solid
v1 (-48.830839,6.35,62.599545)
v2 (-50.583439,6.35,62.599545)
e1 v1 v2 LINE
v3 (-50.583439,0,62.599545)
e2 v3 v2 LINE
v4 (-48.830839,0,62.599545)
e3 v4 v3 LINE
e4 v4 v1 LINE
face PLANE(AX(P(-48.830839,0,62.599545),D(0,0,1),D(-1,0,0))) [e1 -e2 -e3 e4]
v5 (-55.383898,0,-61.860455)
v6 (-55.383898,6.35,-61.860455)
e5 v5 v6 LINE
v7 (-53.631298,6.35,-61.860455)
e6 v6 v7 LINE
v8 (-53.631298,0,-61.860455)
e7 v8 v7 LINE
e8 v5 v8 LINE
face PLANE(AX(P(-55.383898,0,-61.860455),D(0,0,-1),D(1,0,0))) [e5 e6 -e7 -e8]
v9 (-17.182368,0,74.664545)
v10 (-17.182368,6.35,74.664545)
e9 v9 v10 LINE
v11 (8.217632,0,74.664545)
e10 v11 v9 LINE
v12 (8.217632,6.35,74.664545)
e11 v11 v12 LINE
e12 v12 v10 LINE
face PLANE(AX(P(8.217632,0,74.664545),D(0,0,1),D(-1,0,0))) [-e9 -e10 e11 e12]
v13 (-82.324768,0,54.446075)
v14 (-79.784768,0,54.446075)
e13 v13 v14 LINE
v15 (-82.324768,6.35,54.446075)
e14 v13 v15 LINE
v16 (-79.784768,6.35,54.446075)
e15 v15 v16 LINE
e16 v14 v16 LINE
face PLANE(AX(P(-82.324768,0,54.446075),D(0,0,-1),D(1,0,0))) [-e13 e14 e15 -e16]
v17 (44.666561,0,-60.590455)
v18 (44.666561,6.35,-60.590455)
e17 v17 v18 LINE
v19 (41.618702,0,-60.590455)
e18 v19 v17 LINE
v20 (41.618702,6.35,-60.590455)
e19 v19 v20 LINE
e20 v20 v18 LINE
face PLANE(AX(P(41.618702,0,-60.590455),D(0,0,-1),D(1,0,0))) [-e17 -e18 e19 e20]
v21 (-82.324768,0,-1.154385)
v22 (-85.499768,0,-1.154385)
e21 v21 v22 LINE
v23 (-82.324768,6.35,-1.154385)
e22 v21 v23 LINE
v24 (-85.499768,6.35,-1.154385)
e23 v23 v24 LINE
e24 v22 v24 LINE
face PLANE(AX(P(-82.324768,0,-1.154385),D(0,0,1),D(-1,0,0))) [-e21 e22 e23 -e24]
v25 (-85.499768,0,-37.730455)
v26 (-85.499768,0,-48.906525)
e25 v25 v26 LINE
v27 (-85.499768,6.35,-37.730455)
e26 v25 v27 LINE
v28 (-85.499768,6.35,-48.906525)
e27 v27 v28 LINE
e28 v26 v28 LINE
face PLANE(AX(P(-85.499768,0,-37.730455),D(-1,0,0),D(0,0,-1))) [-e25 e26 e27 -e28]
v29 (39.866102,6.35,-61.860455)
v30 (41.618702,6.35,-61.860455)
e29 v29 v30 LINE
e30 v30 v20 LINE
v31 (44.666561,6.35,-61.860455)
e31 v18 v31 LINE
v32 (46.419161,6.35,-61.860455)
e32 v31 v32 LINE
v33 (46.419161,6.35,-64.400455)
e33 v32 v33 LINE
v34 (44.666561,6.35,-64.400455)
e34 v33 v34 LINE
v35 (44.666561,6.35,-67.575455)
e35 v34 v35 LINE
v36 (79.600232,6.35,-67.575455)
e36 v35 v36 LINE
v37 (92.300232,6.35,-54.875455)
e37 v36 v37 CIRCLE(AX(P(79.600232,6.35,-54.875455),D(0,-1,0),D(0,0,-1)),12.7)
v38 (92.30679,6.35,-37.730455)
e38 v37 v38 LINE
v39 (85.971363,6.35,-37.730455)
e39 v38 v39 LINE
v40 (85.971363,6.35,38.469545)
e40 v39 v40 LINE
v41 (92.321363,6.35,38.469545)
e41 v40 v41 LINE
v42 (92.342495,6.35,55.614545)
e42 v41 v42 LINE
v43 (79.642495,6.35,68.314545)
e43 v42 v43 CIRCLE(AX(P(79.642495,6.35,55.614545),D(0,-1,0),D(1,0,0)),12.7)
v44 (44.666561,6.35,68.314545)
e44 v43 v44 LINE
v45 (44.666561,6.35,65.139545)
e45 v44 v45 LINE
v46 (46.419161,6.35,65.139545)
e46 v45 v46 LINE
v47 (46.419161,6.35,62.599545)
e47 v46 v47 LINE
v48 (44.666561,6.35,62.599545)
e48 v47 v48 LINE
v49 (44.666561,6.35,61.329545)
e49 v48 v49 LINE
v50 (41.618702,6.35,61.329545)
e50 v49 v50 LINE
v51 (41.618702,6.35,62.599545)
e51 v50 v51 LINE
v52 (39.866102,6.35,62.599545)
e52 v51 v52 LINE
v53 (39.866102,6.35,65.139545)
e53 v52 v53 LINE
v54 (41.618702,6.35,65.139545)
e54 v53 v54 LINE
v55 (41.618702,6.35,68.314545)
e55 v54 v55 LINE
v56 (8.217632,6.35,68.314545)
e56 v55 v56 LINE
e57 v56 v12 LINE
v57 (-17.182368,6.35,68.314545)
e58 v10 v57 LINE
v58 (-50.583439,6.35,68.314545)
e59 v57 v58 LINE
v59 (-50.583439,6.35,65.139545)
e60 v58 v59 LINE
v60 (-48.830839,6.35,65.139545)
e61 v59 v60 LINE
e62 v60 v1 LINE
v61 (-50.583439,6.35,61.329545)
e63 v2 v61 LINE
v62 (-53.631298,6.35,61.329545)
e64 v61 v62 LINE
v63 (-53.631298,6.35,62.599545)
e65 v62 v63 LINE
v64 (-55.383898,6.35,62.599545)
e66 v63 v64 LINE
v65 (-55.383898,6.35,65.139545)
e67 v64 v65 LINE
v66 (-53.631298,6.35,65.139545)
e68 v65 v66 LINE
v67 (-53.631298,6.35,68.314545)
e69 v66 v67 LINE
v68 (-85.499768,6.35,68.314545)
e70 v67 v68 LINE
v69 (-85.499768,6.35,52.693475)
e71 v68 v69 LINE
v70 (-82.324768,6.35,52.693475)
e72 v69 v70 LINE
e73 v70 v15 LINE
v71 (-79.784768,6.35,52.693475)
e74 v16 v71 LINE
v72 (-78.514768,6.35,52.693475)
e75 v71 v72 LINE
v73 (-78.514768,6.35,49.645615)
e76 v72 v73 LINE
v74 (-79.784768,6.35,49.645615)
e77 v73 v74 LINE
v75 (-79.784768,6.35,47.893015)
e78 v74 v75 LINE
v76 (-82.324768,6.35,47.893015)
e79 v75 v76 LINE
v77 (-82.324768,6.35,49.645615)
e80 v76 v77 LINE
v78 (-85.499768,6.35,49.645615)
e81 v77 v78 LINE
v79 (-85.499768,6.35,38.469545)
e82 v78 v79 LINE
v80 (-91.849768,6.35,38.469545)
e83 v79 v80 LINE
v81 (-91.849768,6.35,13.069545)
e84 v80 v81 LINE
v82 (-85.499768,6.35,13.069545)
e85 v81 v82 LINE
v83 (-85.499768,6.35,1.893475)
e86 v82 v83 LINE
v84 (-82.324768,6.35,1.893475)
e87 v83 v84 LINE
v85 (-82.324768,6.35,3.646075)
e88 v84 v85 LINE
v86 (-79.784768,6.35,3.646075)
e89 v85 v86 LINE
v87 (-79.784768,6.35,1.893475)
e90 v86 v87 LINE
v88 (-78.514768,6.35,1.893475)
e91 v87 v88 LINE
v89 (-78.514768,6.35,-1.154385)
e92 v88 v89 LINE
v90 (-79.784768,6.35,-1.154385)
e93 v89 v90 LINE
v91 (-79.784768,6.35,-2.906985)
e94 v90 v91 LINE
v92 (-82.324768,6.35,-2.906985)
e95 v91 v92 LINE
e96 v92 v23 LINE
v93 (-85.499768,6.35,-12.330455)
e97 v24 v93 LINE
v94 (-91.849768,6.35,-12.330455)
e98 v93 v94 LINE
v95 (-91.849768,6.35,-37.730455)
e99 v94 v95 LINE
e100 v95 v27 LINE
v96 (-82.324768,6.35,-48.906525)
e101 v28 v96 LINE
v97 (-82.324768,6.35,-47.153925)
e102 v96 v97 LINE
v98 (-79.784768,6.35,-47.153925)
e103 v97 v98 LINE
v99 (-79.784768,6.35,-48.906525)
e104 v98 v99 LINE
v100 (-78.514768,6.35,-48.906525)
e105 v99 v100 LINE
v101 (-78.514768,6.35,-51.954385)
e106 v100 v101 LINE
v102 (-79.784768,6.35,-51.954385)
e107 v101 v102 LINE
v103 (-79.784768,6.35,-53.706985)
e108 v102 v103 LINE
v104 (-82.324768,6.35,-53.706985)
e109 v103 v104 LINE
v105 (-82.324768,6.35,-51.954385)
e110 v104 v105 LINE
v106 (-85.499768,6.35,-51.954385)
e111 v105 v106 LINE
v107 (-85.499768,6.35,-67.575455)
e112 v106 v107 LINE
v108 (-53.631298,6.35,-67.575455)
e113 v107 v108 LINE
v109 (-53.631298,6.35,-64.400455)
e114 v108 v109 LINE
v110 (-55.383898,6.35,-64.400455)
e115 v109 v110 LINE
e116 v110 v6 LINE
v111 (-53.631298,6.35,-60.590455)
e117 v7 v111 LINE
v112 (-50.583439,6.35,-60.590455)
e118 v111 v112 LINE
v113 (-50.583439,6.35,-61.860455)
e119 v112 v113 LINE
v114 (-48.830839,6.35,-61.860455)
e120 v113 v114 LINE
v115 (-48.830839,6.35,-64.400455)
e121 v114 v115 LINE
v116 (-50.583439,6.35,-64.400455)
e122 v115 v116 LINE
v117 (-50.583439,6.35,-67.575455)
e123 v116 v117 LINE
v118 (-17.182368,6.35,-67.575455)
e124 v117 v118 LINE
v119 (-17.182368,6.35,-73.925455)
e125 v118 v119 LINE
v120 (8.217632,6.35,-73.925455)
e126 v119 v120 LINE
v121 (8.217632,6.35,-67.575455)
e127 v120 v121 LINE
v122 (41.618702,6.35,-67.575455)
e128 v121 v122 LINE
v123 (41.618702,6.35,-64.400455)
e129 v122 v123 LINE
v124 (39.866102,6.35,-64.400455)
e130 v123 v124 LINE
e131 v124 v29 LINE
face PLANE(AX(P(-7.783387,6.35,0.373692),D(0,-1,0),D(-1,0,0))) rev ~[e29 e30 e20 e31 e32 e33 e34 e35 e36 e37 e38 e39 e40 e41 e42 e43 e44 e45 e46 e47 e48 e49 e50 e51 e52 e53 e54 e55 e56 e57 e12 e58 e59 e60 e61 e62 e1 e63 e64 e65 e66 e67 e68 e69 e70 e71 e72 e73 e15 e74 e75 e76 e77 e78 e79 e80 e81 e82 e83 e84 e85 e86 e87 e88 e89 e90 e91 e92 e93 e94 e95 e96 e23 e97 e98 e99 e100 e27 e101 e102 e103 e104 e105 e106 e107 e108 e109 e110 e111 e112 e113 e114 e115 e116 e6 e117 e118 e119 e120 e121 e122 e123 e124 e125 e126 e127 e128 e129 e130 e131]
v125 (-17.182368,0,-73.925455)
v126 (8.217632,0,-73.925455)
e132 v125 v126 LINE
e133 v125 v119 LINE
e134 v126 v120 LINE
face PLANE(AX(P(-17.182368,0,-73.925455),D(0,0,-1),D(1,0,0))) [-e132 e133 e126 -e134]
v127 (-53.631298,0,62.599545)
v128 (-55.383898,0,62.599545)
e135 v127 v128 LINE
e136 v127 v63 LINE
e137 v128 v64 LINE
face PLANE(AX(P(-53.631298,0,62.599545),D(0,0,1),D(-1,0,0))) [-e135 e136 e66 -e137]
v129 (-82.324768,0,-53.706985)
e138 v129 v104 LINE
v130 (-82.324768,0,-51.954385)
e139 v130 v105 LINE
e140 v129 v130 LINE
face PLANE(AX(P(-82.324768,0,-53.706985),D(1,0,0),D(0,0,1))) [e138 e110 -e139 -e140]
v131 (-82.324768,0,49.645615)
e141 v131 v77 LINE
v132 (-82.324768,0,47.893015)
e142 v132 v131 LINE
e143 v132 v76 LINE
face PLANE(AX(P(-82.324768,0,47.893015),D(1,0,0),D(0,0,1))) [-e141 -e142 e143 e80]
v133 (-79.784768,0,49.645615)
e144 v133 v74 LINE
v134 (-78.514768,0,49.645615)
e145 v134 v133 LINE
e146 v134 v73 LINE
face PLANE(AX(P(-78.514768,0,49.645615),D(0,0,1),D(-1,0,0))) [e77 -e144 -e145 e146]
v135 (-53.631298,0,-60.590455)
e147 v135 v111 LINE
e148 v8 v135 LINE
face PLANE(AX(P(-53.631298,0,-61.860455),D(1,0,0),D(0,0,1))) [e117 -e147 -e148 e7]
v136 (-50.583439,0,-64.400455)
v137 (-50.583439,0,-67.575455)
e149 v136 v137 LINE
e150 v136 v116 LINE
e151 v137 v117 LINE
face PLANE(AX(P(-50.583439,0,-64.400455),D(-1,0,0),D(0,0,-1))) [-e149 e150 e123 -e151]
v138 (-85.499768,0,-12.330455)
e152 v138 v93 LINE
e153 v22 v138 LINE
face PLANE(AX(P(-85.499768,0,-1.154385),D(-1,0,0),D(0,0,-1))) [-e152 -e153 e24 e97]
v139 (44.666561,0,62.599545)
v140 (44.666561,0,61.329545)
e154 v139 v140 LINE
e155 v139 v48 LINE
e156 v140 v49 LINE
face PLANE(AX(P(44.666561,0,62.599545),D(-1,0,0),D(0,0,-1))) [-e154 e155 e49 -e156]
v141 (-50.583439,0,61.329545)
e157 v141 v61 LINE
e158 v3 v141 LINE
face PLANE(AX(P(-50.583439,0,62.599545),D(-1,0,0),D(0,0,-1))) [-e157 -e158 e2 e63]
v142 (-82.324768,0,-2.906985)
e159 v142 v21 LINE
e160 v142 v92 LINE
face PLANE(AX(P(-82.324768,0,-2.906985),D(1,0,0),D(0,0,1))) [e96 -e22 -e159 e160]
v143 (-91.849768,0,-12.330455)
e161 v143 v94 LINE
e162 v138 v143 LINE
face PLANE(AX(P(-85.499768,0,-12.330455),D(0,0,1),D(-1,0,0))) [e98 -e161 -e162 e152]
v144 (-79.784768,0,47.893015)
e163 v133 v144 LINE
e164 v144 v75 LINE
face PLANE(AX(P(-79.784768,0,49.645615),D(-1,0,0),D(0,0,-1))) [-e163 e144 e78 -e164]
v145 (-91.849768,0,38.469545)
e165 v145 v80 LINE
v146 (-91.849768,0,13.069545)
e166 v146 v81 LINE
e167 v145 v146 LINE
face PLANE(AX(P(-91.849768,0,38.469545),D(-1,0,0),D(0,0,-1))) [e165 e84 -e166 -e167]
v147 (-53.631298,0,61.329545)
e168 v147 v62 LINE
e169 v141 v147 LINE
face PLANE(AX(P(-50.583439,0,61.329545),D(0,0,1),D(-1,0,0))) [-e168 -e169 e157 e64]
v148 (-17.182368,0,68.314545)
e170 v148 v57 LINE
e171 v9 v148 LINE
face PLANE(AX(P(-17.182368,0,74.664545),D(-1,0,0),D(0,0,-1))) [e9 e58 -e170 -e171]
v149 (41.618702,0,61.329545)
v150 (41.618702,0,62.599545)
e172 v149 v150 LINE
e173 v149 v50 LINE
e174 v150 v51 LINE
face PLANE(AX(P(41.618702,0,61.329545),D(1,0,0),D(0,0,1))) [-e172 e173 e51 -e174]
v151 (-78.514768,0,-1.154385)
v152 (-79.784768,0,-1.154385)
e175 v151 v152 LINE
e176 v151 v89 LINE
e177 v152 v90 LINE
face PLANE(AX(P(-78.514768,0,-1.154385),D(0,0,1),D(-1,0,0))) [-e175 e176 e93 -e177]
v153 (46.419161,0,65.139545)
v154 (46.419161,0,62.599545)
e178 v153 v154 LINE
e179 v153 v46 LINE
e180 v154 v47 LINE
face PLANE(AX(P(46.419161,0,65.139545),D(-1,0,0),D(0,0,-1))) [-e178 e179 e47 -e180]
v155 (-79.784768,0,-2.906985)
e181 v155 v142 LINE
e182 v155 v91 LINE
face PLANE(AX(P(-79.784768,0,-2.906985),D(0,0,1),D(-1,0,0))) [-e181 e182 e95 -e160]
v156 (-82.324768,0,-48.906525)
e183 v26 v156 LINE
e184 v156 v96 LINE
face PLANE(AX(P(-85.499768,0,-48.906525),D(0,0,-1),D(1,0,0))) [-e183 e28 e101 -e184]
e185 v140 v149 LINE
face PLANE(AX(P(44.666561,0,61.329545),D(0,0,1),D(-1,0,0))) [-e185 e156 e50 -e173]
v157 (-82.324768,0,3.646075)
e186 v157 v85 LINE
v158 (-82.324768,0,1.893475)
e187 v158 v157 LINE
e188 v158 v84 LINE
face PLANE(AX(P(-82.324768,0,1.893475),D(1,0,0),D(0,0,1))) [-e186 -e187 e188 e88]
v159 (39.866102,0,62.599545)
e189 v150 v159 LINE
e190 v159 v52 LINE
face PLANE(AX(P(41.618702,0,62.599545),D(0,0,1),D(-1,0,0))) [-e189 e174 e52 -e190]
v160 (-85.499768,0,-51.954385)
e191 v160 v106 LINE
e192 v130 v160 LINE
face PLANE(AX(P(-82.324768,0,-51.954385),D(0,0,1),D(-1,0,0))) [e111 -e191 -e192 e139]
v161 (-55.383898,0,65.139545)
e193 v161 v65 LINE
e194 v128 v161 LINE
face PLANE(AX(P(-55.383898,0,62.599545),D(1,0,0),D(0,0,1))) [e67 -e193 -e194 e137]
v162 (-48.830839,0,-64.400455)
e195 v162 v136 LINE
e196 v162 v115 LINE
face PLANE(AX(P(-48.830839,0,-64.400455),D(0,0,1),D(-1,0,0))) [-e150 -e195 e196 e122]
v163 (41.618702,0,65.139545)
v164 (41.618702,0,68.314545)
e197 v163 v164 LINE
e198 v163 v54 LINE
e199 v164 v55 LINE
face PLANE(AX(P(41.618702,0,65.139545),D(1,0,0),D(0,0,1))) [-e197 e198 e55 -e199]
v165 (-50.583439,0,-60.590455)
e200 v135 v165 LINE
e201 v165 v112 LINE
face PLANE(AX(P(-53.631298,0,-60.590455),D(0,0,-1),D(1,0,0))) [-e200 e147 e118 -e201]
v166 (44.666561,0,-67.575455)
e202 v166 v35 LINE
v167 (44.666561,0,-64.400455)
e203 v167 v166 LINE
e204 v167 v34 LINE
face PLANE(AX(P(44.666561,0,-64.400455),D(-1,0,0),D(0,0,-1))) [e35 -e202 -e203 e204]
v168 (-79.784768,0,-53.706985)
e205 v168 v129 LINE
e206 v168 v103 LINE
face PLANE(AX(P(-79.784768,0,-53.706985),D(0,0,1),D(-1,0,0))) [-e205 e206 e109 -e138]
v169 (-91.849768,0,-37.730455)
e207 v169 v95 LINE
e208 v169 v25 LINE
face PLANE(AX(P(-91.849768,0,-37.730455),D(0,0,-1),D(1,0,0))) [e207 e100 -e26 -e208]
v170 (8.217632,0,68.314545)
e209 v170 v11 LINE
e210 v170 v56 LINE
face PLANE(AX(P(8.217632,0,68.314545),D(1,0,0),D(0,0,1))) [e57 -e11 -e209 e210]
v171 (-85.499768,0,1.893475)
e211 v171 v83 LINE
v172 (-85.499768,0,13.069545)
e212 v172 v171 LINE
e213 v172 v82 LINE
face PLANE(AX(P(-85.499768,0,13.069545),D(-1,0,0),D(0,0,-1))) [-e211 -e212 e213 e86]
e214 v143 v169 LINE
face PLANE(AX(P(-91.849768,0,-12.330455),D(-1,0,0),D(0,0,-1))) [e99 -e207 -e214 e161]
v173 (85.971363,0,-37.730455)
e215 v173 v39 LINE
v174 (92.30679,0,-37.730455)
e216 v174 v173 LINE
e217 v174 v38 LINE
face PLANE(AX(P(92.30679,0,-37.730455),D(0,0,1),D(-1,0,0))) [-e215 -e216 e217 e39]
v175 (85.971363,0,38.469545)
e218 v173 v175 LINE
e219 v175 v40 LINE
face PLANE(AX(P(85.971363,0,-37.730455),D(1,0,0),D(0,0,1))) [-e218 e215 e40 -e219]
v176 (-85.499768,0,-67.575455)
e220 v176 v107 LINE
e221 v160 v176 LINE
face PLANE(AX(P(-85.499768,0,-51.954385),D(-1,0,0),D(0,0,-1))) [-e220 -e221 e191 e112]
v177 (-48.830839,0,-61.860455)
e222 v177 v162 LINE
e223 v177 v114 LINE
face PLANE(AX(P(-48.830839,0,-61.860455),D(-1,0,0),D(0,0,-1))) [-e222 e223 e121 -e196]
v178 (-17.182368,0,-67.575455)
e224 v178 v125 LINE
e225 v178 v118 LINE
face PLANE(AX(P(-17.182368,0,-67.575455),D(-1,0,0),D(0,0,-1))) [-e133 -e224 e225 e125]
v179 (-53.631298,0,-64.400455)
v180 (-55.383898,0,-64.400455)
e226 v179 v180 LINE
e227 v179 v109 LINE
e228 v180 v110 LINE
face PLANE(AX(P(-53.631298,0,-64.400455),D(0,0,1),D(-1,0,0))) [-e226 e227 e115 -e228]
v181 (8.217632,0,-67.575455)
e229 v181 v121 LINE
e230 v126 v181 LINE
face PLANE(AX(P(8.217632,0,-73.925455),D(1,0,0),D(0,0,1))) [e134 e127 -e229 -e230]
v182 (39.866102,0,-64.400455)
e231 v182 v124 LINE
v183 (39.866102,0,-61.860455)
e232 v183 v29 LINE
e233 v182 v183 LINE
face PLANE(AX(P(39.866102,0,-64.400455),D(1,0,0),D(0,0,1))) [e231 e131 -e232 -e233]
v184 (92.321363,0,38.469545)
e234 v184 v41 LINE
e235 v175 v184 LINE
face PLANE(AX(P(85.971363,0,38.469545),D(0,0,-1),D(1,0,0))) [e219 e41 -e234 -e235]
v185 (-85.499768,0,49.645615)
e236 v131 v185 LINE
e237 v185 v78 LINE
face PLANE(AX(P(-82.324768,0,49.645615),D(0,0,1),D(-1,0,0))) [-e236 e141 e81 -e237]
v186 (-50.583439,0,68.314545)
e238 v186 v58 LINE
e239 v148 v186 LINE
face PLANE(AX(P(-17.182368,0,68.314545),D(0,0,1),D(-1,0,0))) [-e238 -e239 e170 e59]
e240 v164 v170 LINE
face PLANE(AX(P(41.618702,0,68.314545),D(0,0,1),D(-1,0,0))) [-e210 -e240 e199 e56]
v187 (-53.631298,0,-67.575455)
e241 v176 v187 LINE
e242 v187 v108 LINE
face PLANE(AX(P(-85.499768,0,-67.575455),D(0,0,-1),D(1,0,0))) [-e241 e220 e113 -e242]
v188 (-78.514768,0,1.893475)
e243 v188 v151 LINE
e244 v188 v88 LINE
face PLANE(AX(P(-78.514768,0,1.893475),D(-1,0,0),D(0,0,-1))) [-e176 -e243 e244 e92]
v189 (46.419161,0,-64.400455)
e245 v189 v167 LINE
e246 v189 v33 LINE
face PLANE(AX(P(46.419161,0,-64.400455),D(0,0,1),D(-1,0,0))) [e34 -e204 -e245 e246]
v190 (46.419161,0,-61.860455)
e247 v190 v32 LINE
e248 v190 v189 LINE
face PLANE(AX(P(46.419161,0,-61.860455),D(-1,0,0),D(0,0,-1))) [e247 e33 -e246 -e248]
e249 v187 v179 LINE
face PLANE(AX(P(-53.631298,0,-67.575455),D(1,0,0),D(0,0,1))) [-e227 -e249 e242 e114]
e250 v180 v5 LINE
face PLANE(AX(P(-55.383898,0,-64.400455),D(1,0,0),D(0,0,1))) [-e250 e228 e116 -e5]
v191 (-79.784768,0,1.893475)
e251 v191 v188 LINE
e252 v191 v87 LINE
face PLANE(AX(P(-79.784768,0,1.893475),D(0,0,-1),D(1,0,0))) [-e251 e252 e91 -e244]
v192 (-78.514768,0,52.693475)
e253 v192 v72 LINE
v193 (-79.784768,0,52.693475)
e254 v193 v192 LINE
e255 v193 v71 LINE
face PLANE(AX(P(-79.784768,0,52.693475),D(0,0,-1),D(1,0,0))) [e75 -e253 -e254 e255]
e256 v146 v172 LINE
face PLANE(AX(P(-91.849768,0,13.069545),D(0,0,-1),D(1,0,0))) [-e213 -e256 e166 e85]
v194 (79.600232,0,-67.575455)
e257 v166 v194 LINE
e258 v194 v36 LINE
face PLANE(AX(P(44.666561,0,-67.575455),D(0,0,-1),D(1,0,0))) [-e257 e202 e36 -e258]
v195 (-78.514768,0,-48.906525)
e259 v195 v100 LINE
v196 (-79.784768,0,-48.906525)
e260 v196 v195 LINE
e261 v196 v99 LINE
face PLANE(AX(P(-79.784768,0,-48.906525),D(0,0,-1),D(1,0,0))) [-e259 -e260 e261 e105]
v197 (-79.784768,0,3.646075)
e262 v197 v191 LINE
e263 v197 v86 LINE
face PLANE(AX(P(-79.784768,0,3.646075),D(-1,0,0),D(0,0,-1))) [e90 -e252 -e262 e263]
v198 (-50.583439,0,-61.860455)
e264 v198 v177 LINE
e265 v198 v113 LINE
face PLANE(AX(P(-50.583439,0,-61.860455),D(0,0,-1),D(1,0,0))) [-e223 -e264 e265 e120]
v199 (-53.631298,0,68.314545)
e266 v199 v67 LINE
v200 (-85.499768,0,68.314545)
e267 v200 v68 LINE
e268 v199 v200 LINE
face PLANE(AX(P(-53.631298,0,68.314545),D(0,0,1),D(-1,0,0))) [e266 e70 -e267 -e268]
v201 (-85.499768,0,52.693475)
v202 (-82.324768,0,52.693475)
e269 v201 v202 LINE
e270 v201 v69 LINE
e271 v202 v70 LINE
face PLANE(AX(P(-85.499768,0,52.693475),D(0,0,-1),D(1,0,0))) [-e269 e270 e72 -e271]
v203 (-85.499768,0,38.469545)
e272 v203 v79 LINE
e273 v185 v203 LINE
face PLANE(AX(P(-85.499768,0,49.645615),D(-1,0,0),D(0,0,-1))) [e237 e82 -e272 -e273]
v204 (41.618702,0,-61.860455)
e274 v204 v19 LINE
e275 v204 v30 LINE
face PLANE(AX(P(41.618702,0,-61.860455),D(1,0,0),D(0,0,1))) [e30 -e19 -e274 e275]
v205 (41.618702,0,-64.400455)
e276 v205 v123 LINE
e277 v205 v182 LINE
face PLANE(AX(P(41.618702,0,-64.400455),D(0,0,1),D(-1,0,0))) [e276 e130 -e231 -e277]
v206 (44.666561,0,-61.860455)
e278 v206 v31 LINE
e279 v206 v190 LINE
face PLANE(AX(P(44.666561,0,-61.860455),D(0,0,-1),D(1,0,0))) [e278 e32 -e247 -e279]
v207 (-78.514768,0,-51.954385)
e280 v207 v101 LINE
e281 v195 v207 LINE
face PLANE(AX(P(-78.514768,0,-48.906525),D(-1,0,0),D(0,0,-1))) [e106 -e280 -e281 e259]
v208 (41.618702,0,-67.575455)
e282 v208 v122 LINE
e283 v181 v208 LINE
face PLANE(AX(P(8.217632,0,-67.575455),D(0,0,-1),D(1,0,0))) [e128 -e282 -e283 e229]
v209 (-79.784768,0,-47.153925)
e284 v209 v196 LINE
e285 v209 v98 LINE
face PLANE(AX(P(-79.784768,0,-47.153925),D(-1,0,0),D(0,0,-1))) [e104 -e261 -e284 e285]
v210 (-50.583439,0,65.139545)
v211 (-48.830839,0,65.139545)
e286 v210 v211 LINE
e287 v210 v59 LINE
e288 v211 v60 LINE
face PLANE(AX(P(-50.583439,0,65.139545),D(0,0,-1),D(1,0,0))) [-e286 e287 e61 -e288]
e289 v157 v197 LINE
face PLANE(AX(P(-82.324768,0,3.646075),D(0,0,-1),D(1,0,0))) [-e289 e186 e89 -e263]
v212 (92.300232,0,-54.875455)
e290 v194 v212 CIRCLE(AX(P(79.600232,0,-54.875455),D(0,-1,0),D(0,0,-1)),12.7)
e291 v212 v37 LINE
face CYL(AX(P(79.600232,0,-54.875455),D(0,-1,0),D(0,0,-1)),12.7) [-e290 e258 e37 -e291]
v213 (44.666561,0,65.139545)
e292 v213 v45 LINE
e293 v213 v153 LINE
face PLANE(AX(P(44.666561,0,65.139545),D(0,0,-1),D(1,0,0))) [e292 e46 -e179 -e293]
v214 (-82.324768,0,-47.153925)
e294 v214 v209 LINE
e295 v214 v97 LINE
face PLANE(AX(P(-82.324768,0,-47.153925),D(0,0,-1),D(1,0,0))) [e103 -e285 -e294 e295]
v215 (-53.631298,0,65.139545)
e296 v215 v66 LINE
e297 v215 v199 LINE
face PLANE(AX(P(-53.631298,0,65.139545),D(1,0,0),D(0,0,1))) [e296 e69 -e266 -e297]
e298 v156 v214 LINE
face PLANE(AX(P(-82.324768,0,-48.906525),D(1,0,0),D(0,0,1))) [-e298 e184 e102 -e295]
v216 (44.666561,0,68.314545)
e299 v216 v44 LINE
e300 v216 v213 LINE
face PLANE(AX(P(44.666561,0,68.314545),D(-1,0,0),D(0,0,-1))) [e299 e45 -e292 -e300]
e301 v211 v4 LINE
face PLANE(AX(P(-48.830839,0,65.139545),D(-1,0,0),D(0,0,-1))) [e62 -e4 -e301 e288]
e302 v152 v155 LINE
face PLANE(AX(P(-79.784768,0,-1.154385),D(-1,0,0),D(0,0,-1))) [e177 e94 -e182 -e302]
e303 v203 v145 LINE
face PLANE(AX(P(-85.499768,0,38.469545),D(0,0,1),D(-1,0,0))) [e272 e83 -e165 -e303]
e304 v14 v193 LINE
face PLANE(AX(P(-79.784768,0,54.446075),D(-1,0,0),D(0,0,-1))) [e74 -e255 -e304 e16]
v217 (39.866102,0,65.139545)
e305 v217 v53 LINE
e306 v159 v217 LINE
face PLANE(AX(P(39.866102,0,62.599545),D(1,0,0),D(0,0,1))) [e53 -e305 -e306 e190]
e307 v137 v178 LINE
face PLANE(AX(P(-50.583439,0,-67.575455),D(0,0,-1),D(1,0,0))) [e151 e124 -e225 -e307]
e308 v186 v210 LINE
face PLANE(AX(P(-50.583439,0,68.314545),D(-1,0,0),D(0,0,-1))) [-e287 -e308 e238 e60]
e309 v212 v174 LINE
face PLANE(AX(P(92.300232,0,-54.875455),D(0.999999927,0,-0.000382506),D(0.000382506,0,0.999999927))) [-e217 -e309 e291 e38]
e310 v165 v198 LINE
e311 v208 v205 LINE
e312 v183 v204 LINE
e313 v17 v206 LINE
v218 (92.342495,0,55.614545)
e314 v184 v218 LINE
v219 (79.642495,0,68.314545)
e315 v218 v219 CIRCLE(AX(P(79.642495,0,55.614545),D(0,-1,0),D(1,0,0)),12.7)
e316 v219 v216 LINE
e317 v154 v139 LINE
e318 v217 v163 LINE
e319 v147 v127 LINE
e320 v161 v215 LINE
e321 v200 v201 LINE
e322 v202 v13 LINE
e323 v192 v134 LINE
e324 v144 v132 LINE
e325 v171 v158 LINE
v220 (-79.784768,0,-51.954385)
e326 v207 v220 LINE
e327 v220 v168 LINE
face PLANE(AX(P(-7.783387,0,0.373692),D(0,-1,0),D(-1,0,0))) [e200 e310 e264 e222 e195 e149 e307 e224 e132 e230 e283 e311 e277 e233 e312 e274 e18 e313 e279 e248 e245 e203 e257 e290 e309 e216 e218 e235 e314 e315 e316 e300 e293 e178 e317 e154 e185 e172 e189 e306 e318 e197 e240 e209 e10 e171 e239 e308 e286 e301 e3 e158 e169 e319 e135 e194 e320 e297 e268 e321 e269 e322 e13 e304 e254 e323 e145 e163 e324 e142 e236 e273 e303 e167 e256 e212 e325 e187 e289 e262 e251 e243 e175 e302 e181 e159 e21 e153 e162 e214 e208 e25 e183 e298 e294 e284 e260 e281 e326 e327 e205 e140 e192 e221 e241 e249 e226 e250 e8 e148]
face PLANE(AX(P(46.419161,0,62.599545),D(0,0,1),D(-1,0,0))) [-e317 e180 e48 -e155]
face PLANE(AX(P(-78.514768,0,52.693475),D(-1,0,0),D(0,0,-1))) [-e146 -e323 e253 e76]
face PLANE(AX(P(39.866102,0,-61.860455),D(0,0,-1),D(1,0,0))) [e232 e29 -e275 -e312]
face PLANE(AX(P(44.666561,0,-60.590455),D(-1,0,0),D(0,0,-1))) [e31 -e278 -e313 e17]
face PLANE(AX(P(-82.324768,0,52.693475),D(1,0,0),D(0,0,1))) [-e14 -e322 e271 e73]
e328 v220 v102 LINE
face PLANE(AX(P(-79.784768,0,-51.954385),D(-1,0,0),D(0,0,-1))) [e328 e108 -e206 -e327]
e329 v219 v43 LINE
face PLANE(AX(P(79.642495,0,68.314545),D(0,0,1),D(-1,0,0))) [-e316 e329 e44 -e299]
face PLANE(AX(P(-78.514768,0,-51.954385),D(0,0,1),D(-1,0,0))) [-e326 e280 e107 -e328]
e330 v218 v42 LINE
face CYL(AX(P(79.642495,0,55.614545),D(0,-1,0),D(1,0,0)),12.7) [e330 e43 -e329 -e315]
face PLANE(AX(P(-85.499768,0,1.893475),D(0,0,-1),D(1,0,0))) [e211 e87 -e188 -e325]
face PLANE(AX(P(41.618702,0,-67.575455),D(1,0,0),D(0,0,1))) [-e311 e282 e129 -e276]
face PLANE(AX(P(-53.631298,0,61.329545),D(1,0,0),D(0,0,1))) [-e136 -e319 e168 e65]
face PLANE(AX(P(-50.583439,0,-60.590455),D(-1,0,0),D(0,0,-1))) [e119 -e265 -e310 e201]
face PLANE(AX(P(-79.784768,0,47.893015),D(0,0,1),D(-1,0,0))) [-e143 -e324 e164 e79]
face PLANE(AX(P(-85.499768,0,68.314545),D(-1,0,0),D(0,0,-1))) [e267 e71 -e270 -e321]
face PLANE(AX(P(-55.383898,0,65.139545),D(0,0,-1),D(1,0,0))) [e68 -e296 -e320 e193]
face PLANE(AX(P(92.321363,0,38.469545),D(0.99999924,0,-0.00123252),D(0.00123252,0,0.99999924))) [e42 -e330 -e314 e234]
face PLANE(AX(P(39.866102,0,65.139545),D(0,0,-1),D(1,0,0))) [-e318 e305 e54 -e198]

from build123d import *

# Parameters (mm, degrees)
BOSS_EXTRUDE1_DEPTH = 6.35


with BuildPart() as part:
    # Sketch1 → Boss-Extrude1 (new body)
    with BuildSketch(Plane(origin=(0, 0, 0), x_dir=(1, 0, 0), z_dir=(0, 1, 0))):
        with BuildLine():
            Line((-85.499768134, 67.575454856), (-53.631298012, 67.575454856))
            Line((-53.631298012, 67.575454856), (-53.631298012, 64.400454856))
            Line((-53.631298012, 64.400454856), (-55.383898012, 64.400454856))
            Line((-55.383898012, 64.400454856), (-55.383898012, 61.860454856))
            Line((-55.383898012, 61.860454856), (-53.631298012, 61.860454856))
            Line((-53.631298012, 61.860454856), (-53.631298012, 60.590454856))
            Line((-53.631298012, 60.590454856), (-50.583438656, 60.590454856))
            Line((-50.583438656, 60.590454856), (-50.583438656, 61.860454856))
            Line((-50.583438656, 61.860454856), (-48.830838656, 61.860454856))
            Line((-48.830838656, 61.860454856), (-48.830838656, 64.400454856))
            Line((-48.830838656, 64.400454856), (-50.583438656, 64.400454856))
            Line((-50.583438656, 64.400454856), (-50.583438656, 67.575454856))
            Line((-50.583438656, 67.575454856), (-17.182368334, 67.575454856))
            Line((-17.182368334, 67.575454856), (-17.182368334, 73.925454856))
            Line((-17.182368334, 73.925454856), (8.217631666, 73.925454856))
            Line((8.217631666, 73.925454856), (8.217631666, 67.575454856))
            Line((8.217631666, 67.575454856), (41.618701988, 67.575454856))
            Line((41.618701988, 67.575454856), (41.618701988, 64.400454856))
            Line((41.618701988, 64.400454856), (39.866101988, 64.400454856))
            Line((39.866101988, 64.400454856), (39.866101988, 61.860454856))
            Line((39.866101988, 61.860454856), (41.618701988, 61.860454856))
            Line((41.618701988, 61.860454856), (41.618701988, 60.590454856))
            Line((41.618701988, 60.590454856), (44.666561344, 60.590454856))
            Line((44.666561344, 60.590454856), (44.666561344, 61.860454856))
            Line((44.666561344, 61.860454856), (46.419161344, 61.860454856))
            Line((46.419161344, 61.860454856), (46.419161344, 64.400454856))
            Line((46.419161344, 64.400454856), (44.666561344, 64.400454856))
            Line((44.666561344, 64.400454856), (44.666561344, 67.575454856))
            Line((44.666561344, 67.575454856), (79.600231866, 67.575454856))
            ThreePointArc((79.600231866, 67.575454856), (88.580487987, 63.855710977), (92.300231866, 54.875454856))
            Line((92.300231866, 54.875454856), (92.306789937, 37.730454856))
            Line((92.306789937, 37.730454856), (85.971363429, 37.730454856))
            Line((85.971363429, 37.730454856), (85.971363429, -38.469545144))
            Line((85.971363429, -38.469545144), (92.321363429, -38.469545144))
            Line((92.321363429, -38.469545144), (92.342494993, -55.614545144))
            ThreePointArc((92.342494993, -55.614545144), (88.622751114, -64.594801265), (79.642494993, -68.314545144))
            Line((79.642494993, -68.314545144), (44.666561344, -68.314545144))
            Line((44.666561344, -68.314545144), (44.666561344, -65.139545144))
            Line((44.666561344, -65.139545144), (46.419161344, -65.139545144))
            Line((46.419161344, -65.139545144), (46.419161344, -62.599545144))
            Line((46.419161344, -62.599545144), (44.666561344, -62.599545144))
            Line((44.666561344, -62.599545144), (44.666561344, -61.329545144))
            Line((44.666561344, -61.329545144), (41.618701988, -61.329545144))
            Line((41.618701988, -61.329545144), (41.618701988, -62.599545144))
            Line((41.618701988, -62.599545144), (39.866101988, -62.599545144))
            Line((39.866101988, -62.599545144), (39.866101988, -65.139545144))
            Line((39.866101988, -65.139545144), (41.618701988, -65.139545144))
            Line((41.618701988, -65.139545144), (41.618701988, -68.314545144))
            Line((41.618701988, -68.314545144), (8.217631666, -68.314545144))
            Line((8.217631666, -68.314545144), (8.217631666, -74.664545144))
            Line((8.217631666, -74.664545144), (-17.182368334, -74.664545144))
            Line((-17.182368334, -74.664545144), (-17.182368334, -68.314545144))
            Line((-17.182368334, -68.314545144), (-50.583438656, -68.314545144))
            Line((-50.583438656, -68.314545144), (-50.583438656, -65.139545144))
            Line((-50.583438656, -65.139545144), (-48.830838656, -65.139545144))
            Line((-48.830838656, -65.139545144), (-48.830838656, -62.599545144))
            Line((-48.830838656, -62.599545144), (-50.583438656, -62.599545144))
            Line((-50.583438656, -62.599545144), (-50.583438656, -61.329545144))
            Line((-50.583438656, -61.329545144), (-53.631298012, -61.329545144))
            Line((-53.631298012, -61.329545144), (-53.631298012, -62.599545144))
            Line((-53.631298012, -62.599545144), (-55.383898012, -62.599545144))
            Line((-55.383898012, -62.599545144), (-55.383898012, -65.139545144))
            Line((-55.383898012, -65.139545144), (-53.631298012, -65.139545144))
            Line((-53.631298012, -65.139545144), (-53.631298012, -68.314545144))
            Line((-53.631298012, -68.314545144), (-85.499768134, -68.314545144))
            Line((-85.499768134, -68.314545144), (-85.499768134, -52.693474822))
            Line((-85.499768134, -52.693474822), (-82.324768134, -52.693474822))
            Line((-82.324768134, -52.693474822), (-82.324768134, -54.446074822))
            Line((-82.324768134, -54.446074822), (-79.784768134, -54.446074822))
            Line((-79.784768134, -54.446074822), (-79.784768134, -52.693474822))
            Line((-79.784768134, -52.693474822), (-78.514768134, -52.693474822))
            Line((-78.514768134, -52.693474822), (-78.514768134, -49.645615466))
            Line((-78.514768134, -49.645615466), (-79.784768134, -49.645615466))
            Line((-79.784768134, -49.645615466), (-79.784768134, -47.893015466))
            Line((-79.784768134, -47.893015466), (-82.324768134, -47.893015466))
            Line((-82.324768134, -47.893015466), (-82.324768134, -49.645615466))
            Line((-82.324768134, -49.645615466), (-85.499768134, -49.645615466))
            Line((-85.499768134, -49.645615466), (-85.499768134, -38.469545144))
            Line((-85.499768134, -38.469545144), (-91.849768134, -38.469545144))
            Line((-91.849768134, -38.469545144), (-91.849768134, -13.069545144))
            Line((-91.849768134, -13.069545144), (-85.499768134, -13.069545144))
            Line((-85.499768134, -13.069545144), (-85.499768134, -1.893474822))
            Line((-85.499768134, -1.893474822), (-82.324768134, -1.893474822))
            Line((-82.324768134, -1.893474822), (-82.324768134, -3.646074822))
            Line((-82.324768134, -3.646074822), (-79.784768134, -3.646074822))
            Line((-79.784768134, -3.646074822), (-79.784768134, -1.893474822))
            Line((-79.784768134, -1.893474822), (-78.514768134, -1.893474822))
            Line((-78.514768134, -1.893474822), (-78.514768134, 1.154384534))
            Line((-78.514768134, 1.154384534), (-79.784768134, 1.154384534))
            Line((-79.784768134, 1.154384534), (-79.784768134, 2.906984534))
            Line((-79.784768134, 2.906984534), (-82.324768134, 2.906984534))
            Line((-82.324768134, 2.906984534), (-82.324768134, 1.154384534))
            Line((-82.324768134, 1.154384534), (-85.499768134, 1.154384534))
            Line((-85.499768134, 1.154384534), (-85.499768134, 12.330454856))
            Line((-85.499768134, 12.330454856), (-91.849768134, 12.330454856))
            Line((-91.849768134, 12.330454856), (-91.849768134, 37.730454856))
            Line((-91.849768134, 37.730454856), (-85.499768134, 37.730454856))
            Line((-85.499768134, 37.730454856), (-85.499768134, 48.906525178))
            Line((-85.499768134, 48.906525178), (-82.324768134, 48.906525178))
            Line((-82.324768134, 48.906525178), (-82.324768134, 47.153925178))
            Line((-82.324768134, 47.153925178), (-79.784768134, 47.153925178))
            Line((-79.784768134, 47.153925178), (-79.784768134, 48.906525178))
            Line((-79.784768134, 48.906525178), (-78.514768134, 48.906525178))
            Line((-78.514768134, 48.906525178), (-78.514768134, 51.954384534))
            Line((-78.514768134, 51.954384534), (-79.784768134, 51.954384534))
            Line((-79.784768134, 51.954384534), (-79.784768134, 53.706984534))
            Line((-79.784768134, 53.706984534), (-82.324768134, 53.706984534))
            Line((-82.324768134, 53.706984534), (-82.324768134, 51.954384534))
            Line((-82.324768134, 51.954384534), (-85.499768134, 51.954384534))
            Line((-85.499768134, 51.954384534), (-85.499768134, 67.575454856))
        make_face()
    extrude(amount=BOSS_EXTRUDE1_DEPTH)


solid = part.part
